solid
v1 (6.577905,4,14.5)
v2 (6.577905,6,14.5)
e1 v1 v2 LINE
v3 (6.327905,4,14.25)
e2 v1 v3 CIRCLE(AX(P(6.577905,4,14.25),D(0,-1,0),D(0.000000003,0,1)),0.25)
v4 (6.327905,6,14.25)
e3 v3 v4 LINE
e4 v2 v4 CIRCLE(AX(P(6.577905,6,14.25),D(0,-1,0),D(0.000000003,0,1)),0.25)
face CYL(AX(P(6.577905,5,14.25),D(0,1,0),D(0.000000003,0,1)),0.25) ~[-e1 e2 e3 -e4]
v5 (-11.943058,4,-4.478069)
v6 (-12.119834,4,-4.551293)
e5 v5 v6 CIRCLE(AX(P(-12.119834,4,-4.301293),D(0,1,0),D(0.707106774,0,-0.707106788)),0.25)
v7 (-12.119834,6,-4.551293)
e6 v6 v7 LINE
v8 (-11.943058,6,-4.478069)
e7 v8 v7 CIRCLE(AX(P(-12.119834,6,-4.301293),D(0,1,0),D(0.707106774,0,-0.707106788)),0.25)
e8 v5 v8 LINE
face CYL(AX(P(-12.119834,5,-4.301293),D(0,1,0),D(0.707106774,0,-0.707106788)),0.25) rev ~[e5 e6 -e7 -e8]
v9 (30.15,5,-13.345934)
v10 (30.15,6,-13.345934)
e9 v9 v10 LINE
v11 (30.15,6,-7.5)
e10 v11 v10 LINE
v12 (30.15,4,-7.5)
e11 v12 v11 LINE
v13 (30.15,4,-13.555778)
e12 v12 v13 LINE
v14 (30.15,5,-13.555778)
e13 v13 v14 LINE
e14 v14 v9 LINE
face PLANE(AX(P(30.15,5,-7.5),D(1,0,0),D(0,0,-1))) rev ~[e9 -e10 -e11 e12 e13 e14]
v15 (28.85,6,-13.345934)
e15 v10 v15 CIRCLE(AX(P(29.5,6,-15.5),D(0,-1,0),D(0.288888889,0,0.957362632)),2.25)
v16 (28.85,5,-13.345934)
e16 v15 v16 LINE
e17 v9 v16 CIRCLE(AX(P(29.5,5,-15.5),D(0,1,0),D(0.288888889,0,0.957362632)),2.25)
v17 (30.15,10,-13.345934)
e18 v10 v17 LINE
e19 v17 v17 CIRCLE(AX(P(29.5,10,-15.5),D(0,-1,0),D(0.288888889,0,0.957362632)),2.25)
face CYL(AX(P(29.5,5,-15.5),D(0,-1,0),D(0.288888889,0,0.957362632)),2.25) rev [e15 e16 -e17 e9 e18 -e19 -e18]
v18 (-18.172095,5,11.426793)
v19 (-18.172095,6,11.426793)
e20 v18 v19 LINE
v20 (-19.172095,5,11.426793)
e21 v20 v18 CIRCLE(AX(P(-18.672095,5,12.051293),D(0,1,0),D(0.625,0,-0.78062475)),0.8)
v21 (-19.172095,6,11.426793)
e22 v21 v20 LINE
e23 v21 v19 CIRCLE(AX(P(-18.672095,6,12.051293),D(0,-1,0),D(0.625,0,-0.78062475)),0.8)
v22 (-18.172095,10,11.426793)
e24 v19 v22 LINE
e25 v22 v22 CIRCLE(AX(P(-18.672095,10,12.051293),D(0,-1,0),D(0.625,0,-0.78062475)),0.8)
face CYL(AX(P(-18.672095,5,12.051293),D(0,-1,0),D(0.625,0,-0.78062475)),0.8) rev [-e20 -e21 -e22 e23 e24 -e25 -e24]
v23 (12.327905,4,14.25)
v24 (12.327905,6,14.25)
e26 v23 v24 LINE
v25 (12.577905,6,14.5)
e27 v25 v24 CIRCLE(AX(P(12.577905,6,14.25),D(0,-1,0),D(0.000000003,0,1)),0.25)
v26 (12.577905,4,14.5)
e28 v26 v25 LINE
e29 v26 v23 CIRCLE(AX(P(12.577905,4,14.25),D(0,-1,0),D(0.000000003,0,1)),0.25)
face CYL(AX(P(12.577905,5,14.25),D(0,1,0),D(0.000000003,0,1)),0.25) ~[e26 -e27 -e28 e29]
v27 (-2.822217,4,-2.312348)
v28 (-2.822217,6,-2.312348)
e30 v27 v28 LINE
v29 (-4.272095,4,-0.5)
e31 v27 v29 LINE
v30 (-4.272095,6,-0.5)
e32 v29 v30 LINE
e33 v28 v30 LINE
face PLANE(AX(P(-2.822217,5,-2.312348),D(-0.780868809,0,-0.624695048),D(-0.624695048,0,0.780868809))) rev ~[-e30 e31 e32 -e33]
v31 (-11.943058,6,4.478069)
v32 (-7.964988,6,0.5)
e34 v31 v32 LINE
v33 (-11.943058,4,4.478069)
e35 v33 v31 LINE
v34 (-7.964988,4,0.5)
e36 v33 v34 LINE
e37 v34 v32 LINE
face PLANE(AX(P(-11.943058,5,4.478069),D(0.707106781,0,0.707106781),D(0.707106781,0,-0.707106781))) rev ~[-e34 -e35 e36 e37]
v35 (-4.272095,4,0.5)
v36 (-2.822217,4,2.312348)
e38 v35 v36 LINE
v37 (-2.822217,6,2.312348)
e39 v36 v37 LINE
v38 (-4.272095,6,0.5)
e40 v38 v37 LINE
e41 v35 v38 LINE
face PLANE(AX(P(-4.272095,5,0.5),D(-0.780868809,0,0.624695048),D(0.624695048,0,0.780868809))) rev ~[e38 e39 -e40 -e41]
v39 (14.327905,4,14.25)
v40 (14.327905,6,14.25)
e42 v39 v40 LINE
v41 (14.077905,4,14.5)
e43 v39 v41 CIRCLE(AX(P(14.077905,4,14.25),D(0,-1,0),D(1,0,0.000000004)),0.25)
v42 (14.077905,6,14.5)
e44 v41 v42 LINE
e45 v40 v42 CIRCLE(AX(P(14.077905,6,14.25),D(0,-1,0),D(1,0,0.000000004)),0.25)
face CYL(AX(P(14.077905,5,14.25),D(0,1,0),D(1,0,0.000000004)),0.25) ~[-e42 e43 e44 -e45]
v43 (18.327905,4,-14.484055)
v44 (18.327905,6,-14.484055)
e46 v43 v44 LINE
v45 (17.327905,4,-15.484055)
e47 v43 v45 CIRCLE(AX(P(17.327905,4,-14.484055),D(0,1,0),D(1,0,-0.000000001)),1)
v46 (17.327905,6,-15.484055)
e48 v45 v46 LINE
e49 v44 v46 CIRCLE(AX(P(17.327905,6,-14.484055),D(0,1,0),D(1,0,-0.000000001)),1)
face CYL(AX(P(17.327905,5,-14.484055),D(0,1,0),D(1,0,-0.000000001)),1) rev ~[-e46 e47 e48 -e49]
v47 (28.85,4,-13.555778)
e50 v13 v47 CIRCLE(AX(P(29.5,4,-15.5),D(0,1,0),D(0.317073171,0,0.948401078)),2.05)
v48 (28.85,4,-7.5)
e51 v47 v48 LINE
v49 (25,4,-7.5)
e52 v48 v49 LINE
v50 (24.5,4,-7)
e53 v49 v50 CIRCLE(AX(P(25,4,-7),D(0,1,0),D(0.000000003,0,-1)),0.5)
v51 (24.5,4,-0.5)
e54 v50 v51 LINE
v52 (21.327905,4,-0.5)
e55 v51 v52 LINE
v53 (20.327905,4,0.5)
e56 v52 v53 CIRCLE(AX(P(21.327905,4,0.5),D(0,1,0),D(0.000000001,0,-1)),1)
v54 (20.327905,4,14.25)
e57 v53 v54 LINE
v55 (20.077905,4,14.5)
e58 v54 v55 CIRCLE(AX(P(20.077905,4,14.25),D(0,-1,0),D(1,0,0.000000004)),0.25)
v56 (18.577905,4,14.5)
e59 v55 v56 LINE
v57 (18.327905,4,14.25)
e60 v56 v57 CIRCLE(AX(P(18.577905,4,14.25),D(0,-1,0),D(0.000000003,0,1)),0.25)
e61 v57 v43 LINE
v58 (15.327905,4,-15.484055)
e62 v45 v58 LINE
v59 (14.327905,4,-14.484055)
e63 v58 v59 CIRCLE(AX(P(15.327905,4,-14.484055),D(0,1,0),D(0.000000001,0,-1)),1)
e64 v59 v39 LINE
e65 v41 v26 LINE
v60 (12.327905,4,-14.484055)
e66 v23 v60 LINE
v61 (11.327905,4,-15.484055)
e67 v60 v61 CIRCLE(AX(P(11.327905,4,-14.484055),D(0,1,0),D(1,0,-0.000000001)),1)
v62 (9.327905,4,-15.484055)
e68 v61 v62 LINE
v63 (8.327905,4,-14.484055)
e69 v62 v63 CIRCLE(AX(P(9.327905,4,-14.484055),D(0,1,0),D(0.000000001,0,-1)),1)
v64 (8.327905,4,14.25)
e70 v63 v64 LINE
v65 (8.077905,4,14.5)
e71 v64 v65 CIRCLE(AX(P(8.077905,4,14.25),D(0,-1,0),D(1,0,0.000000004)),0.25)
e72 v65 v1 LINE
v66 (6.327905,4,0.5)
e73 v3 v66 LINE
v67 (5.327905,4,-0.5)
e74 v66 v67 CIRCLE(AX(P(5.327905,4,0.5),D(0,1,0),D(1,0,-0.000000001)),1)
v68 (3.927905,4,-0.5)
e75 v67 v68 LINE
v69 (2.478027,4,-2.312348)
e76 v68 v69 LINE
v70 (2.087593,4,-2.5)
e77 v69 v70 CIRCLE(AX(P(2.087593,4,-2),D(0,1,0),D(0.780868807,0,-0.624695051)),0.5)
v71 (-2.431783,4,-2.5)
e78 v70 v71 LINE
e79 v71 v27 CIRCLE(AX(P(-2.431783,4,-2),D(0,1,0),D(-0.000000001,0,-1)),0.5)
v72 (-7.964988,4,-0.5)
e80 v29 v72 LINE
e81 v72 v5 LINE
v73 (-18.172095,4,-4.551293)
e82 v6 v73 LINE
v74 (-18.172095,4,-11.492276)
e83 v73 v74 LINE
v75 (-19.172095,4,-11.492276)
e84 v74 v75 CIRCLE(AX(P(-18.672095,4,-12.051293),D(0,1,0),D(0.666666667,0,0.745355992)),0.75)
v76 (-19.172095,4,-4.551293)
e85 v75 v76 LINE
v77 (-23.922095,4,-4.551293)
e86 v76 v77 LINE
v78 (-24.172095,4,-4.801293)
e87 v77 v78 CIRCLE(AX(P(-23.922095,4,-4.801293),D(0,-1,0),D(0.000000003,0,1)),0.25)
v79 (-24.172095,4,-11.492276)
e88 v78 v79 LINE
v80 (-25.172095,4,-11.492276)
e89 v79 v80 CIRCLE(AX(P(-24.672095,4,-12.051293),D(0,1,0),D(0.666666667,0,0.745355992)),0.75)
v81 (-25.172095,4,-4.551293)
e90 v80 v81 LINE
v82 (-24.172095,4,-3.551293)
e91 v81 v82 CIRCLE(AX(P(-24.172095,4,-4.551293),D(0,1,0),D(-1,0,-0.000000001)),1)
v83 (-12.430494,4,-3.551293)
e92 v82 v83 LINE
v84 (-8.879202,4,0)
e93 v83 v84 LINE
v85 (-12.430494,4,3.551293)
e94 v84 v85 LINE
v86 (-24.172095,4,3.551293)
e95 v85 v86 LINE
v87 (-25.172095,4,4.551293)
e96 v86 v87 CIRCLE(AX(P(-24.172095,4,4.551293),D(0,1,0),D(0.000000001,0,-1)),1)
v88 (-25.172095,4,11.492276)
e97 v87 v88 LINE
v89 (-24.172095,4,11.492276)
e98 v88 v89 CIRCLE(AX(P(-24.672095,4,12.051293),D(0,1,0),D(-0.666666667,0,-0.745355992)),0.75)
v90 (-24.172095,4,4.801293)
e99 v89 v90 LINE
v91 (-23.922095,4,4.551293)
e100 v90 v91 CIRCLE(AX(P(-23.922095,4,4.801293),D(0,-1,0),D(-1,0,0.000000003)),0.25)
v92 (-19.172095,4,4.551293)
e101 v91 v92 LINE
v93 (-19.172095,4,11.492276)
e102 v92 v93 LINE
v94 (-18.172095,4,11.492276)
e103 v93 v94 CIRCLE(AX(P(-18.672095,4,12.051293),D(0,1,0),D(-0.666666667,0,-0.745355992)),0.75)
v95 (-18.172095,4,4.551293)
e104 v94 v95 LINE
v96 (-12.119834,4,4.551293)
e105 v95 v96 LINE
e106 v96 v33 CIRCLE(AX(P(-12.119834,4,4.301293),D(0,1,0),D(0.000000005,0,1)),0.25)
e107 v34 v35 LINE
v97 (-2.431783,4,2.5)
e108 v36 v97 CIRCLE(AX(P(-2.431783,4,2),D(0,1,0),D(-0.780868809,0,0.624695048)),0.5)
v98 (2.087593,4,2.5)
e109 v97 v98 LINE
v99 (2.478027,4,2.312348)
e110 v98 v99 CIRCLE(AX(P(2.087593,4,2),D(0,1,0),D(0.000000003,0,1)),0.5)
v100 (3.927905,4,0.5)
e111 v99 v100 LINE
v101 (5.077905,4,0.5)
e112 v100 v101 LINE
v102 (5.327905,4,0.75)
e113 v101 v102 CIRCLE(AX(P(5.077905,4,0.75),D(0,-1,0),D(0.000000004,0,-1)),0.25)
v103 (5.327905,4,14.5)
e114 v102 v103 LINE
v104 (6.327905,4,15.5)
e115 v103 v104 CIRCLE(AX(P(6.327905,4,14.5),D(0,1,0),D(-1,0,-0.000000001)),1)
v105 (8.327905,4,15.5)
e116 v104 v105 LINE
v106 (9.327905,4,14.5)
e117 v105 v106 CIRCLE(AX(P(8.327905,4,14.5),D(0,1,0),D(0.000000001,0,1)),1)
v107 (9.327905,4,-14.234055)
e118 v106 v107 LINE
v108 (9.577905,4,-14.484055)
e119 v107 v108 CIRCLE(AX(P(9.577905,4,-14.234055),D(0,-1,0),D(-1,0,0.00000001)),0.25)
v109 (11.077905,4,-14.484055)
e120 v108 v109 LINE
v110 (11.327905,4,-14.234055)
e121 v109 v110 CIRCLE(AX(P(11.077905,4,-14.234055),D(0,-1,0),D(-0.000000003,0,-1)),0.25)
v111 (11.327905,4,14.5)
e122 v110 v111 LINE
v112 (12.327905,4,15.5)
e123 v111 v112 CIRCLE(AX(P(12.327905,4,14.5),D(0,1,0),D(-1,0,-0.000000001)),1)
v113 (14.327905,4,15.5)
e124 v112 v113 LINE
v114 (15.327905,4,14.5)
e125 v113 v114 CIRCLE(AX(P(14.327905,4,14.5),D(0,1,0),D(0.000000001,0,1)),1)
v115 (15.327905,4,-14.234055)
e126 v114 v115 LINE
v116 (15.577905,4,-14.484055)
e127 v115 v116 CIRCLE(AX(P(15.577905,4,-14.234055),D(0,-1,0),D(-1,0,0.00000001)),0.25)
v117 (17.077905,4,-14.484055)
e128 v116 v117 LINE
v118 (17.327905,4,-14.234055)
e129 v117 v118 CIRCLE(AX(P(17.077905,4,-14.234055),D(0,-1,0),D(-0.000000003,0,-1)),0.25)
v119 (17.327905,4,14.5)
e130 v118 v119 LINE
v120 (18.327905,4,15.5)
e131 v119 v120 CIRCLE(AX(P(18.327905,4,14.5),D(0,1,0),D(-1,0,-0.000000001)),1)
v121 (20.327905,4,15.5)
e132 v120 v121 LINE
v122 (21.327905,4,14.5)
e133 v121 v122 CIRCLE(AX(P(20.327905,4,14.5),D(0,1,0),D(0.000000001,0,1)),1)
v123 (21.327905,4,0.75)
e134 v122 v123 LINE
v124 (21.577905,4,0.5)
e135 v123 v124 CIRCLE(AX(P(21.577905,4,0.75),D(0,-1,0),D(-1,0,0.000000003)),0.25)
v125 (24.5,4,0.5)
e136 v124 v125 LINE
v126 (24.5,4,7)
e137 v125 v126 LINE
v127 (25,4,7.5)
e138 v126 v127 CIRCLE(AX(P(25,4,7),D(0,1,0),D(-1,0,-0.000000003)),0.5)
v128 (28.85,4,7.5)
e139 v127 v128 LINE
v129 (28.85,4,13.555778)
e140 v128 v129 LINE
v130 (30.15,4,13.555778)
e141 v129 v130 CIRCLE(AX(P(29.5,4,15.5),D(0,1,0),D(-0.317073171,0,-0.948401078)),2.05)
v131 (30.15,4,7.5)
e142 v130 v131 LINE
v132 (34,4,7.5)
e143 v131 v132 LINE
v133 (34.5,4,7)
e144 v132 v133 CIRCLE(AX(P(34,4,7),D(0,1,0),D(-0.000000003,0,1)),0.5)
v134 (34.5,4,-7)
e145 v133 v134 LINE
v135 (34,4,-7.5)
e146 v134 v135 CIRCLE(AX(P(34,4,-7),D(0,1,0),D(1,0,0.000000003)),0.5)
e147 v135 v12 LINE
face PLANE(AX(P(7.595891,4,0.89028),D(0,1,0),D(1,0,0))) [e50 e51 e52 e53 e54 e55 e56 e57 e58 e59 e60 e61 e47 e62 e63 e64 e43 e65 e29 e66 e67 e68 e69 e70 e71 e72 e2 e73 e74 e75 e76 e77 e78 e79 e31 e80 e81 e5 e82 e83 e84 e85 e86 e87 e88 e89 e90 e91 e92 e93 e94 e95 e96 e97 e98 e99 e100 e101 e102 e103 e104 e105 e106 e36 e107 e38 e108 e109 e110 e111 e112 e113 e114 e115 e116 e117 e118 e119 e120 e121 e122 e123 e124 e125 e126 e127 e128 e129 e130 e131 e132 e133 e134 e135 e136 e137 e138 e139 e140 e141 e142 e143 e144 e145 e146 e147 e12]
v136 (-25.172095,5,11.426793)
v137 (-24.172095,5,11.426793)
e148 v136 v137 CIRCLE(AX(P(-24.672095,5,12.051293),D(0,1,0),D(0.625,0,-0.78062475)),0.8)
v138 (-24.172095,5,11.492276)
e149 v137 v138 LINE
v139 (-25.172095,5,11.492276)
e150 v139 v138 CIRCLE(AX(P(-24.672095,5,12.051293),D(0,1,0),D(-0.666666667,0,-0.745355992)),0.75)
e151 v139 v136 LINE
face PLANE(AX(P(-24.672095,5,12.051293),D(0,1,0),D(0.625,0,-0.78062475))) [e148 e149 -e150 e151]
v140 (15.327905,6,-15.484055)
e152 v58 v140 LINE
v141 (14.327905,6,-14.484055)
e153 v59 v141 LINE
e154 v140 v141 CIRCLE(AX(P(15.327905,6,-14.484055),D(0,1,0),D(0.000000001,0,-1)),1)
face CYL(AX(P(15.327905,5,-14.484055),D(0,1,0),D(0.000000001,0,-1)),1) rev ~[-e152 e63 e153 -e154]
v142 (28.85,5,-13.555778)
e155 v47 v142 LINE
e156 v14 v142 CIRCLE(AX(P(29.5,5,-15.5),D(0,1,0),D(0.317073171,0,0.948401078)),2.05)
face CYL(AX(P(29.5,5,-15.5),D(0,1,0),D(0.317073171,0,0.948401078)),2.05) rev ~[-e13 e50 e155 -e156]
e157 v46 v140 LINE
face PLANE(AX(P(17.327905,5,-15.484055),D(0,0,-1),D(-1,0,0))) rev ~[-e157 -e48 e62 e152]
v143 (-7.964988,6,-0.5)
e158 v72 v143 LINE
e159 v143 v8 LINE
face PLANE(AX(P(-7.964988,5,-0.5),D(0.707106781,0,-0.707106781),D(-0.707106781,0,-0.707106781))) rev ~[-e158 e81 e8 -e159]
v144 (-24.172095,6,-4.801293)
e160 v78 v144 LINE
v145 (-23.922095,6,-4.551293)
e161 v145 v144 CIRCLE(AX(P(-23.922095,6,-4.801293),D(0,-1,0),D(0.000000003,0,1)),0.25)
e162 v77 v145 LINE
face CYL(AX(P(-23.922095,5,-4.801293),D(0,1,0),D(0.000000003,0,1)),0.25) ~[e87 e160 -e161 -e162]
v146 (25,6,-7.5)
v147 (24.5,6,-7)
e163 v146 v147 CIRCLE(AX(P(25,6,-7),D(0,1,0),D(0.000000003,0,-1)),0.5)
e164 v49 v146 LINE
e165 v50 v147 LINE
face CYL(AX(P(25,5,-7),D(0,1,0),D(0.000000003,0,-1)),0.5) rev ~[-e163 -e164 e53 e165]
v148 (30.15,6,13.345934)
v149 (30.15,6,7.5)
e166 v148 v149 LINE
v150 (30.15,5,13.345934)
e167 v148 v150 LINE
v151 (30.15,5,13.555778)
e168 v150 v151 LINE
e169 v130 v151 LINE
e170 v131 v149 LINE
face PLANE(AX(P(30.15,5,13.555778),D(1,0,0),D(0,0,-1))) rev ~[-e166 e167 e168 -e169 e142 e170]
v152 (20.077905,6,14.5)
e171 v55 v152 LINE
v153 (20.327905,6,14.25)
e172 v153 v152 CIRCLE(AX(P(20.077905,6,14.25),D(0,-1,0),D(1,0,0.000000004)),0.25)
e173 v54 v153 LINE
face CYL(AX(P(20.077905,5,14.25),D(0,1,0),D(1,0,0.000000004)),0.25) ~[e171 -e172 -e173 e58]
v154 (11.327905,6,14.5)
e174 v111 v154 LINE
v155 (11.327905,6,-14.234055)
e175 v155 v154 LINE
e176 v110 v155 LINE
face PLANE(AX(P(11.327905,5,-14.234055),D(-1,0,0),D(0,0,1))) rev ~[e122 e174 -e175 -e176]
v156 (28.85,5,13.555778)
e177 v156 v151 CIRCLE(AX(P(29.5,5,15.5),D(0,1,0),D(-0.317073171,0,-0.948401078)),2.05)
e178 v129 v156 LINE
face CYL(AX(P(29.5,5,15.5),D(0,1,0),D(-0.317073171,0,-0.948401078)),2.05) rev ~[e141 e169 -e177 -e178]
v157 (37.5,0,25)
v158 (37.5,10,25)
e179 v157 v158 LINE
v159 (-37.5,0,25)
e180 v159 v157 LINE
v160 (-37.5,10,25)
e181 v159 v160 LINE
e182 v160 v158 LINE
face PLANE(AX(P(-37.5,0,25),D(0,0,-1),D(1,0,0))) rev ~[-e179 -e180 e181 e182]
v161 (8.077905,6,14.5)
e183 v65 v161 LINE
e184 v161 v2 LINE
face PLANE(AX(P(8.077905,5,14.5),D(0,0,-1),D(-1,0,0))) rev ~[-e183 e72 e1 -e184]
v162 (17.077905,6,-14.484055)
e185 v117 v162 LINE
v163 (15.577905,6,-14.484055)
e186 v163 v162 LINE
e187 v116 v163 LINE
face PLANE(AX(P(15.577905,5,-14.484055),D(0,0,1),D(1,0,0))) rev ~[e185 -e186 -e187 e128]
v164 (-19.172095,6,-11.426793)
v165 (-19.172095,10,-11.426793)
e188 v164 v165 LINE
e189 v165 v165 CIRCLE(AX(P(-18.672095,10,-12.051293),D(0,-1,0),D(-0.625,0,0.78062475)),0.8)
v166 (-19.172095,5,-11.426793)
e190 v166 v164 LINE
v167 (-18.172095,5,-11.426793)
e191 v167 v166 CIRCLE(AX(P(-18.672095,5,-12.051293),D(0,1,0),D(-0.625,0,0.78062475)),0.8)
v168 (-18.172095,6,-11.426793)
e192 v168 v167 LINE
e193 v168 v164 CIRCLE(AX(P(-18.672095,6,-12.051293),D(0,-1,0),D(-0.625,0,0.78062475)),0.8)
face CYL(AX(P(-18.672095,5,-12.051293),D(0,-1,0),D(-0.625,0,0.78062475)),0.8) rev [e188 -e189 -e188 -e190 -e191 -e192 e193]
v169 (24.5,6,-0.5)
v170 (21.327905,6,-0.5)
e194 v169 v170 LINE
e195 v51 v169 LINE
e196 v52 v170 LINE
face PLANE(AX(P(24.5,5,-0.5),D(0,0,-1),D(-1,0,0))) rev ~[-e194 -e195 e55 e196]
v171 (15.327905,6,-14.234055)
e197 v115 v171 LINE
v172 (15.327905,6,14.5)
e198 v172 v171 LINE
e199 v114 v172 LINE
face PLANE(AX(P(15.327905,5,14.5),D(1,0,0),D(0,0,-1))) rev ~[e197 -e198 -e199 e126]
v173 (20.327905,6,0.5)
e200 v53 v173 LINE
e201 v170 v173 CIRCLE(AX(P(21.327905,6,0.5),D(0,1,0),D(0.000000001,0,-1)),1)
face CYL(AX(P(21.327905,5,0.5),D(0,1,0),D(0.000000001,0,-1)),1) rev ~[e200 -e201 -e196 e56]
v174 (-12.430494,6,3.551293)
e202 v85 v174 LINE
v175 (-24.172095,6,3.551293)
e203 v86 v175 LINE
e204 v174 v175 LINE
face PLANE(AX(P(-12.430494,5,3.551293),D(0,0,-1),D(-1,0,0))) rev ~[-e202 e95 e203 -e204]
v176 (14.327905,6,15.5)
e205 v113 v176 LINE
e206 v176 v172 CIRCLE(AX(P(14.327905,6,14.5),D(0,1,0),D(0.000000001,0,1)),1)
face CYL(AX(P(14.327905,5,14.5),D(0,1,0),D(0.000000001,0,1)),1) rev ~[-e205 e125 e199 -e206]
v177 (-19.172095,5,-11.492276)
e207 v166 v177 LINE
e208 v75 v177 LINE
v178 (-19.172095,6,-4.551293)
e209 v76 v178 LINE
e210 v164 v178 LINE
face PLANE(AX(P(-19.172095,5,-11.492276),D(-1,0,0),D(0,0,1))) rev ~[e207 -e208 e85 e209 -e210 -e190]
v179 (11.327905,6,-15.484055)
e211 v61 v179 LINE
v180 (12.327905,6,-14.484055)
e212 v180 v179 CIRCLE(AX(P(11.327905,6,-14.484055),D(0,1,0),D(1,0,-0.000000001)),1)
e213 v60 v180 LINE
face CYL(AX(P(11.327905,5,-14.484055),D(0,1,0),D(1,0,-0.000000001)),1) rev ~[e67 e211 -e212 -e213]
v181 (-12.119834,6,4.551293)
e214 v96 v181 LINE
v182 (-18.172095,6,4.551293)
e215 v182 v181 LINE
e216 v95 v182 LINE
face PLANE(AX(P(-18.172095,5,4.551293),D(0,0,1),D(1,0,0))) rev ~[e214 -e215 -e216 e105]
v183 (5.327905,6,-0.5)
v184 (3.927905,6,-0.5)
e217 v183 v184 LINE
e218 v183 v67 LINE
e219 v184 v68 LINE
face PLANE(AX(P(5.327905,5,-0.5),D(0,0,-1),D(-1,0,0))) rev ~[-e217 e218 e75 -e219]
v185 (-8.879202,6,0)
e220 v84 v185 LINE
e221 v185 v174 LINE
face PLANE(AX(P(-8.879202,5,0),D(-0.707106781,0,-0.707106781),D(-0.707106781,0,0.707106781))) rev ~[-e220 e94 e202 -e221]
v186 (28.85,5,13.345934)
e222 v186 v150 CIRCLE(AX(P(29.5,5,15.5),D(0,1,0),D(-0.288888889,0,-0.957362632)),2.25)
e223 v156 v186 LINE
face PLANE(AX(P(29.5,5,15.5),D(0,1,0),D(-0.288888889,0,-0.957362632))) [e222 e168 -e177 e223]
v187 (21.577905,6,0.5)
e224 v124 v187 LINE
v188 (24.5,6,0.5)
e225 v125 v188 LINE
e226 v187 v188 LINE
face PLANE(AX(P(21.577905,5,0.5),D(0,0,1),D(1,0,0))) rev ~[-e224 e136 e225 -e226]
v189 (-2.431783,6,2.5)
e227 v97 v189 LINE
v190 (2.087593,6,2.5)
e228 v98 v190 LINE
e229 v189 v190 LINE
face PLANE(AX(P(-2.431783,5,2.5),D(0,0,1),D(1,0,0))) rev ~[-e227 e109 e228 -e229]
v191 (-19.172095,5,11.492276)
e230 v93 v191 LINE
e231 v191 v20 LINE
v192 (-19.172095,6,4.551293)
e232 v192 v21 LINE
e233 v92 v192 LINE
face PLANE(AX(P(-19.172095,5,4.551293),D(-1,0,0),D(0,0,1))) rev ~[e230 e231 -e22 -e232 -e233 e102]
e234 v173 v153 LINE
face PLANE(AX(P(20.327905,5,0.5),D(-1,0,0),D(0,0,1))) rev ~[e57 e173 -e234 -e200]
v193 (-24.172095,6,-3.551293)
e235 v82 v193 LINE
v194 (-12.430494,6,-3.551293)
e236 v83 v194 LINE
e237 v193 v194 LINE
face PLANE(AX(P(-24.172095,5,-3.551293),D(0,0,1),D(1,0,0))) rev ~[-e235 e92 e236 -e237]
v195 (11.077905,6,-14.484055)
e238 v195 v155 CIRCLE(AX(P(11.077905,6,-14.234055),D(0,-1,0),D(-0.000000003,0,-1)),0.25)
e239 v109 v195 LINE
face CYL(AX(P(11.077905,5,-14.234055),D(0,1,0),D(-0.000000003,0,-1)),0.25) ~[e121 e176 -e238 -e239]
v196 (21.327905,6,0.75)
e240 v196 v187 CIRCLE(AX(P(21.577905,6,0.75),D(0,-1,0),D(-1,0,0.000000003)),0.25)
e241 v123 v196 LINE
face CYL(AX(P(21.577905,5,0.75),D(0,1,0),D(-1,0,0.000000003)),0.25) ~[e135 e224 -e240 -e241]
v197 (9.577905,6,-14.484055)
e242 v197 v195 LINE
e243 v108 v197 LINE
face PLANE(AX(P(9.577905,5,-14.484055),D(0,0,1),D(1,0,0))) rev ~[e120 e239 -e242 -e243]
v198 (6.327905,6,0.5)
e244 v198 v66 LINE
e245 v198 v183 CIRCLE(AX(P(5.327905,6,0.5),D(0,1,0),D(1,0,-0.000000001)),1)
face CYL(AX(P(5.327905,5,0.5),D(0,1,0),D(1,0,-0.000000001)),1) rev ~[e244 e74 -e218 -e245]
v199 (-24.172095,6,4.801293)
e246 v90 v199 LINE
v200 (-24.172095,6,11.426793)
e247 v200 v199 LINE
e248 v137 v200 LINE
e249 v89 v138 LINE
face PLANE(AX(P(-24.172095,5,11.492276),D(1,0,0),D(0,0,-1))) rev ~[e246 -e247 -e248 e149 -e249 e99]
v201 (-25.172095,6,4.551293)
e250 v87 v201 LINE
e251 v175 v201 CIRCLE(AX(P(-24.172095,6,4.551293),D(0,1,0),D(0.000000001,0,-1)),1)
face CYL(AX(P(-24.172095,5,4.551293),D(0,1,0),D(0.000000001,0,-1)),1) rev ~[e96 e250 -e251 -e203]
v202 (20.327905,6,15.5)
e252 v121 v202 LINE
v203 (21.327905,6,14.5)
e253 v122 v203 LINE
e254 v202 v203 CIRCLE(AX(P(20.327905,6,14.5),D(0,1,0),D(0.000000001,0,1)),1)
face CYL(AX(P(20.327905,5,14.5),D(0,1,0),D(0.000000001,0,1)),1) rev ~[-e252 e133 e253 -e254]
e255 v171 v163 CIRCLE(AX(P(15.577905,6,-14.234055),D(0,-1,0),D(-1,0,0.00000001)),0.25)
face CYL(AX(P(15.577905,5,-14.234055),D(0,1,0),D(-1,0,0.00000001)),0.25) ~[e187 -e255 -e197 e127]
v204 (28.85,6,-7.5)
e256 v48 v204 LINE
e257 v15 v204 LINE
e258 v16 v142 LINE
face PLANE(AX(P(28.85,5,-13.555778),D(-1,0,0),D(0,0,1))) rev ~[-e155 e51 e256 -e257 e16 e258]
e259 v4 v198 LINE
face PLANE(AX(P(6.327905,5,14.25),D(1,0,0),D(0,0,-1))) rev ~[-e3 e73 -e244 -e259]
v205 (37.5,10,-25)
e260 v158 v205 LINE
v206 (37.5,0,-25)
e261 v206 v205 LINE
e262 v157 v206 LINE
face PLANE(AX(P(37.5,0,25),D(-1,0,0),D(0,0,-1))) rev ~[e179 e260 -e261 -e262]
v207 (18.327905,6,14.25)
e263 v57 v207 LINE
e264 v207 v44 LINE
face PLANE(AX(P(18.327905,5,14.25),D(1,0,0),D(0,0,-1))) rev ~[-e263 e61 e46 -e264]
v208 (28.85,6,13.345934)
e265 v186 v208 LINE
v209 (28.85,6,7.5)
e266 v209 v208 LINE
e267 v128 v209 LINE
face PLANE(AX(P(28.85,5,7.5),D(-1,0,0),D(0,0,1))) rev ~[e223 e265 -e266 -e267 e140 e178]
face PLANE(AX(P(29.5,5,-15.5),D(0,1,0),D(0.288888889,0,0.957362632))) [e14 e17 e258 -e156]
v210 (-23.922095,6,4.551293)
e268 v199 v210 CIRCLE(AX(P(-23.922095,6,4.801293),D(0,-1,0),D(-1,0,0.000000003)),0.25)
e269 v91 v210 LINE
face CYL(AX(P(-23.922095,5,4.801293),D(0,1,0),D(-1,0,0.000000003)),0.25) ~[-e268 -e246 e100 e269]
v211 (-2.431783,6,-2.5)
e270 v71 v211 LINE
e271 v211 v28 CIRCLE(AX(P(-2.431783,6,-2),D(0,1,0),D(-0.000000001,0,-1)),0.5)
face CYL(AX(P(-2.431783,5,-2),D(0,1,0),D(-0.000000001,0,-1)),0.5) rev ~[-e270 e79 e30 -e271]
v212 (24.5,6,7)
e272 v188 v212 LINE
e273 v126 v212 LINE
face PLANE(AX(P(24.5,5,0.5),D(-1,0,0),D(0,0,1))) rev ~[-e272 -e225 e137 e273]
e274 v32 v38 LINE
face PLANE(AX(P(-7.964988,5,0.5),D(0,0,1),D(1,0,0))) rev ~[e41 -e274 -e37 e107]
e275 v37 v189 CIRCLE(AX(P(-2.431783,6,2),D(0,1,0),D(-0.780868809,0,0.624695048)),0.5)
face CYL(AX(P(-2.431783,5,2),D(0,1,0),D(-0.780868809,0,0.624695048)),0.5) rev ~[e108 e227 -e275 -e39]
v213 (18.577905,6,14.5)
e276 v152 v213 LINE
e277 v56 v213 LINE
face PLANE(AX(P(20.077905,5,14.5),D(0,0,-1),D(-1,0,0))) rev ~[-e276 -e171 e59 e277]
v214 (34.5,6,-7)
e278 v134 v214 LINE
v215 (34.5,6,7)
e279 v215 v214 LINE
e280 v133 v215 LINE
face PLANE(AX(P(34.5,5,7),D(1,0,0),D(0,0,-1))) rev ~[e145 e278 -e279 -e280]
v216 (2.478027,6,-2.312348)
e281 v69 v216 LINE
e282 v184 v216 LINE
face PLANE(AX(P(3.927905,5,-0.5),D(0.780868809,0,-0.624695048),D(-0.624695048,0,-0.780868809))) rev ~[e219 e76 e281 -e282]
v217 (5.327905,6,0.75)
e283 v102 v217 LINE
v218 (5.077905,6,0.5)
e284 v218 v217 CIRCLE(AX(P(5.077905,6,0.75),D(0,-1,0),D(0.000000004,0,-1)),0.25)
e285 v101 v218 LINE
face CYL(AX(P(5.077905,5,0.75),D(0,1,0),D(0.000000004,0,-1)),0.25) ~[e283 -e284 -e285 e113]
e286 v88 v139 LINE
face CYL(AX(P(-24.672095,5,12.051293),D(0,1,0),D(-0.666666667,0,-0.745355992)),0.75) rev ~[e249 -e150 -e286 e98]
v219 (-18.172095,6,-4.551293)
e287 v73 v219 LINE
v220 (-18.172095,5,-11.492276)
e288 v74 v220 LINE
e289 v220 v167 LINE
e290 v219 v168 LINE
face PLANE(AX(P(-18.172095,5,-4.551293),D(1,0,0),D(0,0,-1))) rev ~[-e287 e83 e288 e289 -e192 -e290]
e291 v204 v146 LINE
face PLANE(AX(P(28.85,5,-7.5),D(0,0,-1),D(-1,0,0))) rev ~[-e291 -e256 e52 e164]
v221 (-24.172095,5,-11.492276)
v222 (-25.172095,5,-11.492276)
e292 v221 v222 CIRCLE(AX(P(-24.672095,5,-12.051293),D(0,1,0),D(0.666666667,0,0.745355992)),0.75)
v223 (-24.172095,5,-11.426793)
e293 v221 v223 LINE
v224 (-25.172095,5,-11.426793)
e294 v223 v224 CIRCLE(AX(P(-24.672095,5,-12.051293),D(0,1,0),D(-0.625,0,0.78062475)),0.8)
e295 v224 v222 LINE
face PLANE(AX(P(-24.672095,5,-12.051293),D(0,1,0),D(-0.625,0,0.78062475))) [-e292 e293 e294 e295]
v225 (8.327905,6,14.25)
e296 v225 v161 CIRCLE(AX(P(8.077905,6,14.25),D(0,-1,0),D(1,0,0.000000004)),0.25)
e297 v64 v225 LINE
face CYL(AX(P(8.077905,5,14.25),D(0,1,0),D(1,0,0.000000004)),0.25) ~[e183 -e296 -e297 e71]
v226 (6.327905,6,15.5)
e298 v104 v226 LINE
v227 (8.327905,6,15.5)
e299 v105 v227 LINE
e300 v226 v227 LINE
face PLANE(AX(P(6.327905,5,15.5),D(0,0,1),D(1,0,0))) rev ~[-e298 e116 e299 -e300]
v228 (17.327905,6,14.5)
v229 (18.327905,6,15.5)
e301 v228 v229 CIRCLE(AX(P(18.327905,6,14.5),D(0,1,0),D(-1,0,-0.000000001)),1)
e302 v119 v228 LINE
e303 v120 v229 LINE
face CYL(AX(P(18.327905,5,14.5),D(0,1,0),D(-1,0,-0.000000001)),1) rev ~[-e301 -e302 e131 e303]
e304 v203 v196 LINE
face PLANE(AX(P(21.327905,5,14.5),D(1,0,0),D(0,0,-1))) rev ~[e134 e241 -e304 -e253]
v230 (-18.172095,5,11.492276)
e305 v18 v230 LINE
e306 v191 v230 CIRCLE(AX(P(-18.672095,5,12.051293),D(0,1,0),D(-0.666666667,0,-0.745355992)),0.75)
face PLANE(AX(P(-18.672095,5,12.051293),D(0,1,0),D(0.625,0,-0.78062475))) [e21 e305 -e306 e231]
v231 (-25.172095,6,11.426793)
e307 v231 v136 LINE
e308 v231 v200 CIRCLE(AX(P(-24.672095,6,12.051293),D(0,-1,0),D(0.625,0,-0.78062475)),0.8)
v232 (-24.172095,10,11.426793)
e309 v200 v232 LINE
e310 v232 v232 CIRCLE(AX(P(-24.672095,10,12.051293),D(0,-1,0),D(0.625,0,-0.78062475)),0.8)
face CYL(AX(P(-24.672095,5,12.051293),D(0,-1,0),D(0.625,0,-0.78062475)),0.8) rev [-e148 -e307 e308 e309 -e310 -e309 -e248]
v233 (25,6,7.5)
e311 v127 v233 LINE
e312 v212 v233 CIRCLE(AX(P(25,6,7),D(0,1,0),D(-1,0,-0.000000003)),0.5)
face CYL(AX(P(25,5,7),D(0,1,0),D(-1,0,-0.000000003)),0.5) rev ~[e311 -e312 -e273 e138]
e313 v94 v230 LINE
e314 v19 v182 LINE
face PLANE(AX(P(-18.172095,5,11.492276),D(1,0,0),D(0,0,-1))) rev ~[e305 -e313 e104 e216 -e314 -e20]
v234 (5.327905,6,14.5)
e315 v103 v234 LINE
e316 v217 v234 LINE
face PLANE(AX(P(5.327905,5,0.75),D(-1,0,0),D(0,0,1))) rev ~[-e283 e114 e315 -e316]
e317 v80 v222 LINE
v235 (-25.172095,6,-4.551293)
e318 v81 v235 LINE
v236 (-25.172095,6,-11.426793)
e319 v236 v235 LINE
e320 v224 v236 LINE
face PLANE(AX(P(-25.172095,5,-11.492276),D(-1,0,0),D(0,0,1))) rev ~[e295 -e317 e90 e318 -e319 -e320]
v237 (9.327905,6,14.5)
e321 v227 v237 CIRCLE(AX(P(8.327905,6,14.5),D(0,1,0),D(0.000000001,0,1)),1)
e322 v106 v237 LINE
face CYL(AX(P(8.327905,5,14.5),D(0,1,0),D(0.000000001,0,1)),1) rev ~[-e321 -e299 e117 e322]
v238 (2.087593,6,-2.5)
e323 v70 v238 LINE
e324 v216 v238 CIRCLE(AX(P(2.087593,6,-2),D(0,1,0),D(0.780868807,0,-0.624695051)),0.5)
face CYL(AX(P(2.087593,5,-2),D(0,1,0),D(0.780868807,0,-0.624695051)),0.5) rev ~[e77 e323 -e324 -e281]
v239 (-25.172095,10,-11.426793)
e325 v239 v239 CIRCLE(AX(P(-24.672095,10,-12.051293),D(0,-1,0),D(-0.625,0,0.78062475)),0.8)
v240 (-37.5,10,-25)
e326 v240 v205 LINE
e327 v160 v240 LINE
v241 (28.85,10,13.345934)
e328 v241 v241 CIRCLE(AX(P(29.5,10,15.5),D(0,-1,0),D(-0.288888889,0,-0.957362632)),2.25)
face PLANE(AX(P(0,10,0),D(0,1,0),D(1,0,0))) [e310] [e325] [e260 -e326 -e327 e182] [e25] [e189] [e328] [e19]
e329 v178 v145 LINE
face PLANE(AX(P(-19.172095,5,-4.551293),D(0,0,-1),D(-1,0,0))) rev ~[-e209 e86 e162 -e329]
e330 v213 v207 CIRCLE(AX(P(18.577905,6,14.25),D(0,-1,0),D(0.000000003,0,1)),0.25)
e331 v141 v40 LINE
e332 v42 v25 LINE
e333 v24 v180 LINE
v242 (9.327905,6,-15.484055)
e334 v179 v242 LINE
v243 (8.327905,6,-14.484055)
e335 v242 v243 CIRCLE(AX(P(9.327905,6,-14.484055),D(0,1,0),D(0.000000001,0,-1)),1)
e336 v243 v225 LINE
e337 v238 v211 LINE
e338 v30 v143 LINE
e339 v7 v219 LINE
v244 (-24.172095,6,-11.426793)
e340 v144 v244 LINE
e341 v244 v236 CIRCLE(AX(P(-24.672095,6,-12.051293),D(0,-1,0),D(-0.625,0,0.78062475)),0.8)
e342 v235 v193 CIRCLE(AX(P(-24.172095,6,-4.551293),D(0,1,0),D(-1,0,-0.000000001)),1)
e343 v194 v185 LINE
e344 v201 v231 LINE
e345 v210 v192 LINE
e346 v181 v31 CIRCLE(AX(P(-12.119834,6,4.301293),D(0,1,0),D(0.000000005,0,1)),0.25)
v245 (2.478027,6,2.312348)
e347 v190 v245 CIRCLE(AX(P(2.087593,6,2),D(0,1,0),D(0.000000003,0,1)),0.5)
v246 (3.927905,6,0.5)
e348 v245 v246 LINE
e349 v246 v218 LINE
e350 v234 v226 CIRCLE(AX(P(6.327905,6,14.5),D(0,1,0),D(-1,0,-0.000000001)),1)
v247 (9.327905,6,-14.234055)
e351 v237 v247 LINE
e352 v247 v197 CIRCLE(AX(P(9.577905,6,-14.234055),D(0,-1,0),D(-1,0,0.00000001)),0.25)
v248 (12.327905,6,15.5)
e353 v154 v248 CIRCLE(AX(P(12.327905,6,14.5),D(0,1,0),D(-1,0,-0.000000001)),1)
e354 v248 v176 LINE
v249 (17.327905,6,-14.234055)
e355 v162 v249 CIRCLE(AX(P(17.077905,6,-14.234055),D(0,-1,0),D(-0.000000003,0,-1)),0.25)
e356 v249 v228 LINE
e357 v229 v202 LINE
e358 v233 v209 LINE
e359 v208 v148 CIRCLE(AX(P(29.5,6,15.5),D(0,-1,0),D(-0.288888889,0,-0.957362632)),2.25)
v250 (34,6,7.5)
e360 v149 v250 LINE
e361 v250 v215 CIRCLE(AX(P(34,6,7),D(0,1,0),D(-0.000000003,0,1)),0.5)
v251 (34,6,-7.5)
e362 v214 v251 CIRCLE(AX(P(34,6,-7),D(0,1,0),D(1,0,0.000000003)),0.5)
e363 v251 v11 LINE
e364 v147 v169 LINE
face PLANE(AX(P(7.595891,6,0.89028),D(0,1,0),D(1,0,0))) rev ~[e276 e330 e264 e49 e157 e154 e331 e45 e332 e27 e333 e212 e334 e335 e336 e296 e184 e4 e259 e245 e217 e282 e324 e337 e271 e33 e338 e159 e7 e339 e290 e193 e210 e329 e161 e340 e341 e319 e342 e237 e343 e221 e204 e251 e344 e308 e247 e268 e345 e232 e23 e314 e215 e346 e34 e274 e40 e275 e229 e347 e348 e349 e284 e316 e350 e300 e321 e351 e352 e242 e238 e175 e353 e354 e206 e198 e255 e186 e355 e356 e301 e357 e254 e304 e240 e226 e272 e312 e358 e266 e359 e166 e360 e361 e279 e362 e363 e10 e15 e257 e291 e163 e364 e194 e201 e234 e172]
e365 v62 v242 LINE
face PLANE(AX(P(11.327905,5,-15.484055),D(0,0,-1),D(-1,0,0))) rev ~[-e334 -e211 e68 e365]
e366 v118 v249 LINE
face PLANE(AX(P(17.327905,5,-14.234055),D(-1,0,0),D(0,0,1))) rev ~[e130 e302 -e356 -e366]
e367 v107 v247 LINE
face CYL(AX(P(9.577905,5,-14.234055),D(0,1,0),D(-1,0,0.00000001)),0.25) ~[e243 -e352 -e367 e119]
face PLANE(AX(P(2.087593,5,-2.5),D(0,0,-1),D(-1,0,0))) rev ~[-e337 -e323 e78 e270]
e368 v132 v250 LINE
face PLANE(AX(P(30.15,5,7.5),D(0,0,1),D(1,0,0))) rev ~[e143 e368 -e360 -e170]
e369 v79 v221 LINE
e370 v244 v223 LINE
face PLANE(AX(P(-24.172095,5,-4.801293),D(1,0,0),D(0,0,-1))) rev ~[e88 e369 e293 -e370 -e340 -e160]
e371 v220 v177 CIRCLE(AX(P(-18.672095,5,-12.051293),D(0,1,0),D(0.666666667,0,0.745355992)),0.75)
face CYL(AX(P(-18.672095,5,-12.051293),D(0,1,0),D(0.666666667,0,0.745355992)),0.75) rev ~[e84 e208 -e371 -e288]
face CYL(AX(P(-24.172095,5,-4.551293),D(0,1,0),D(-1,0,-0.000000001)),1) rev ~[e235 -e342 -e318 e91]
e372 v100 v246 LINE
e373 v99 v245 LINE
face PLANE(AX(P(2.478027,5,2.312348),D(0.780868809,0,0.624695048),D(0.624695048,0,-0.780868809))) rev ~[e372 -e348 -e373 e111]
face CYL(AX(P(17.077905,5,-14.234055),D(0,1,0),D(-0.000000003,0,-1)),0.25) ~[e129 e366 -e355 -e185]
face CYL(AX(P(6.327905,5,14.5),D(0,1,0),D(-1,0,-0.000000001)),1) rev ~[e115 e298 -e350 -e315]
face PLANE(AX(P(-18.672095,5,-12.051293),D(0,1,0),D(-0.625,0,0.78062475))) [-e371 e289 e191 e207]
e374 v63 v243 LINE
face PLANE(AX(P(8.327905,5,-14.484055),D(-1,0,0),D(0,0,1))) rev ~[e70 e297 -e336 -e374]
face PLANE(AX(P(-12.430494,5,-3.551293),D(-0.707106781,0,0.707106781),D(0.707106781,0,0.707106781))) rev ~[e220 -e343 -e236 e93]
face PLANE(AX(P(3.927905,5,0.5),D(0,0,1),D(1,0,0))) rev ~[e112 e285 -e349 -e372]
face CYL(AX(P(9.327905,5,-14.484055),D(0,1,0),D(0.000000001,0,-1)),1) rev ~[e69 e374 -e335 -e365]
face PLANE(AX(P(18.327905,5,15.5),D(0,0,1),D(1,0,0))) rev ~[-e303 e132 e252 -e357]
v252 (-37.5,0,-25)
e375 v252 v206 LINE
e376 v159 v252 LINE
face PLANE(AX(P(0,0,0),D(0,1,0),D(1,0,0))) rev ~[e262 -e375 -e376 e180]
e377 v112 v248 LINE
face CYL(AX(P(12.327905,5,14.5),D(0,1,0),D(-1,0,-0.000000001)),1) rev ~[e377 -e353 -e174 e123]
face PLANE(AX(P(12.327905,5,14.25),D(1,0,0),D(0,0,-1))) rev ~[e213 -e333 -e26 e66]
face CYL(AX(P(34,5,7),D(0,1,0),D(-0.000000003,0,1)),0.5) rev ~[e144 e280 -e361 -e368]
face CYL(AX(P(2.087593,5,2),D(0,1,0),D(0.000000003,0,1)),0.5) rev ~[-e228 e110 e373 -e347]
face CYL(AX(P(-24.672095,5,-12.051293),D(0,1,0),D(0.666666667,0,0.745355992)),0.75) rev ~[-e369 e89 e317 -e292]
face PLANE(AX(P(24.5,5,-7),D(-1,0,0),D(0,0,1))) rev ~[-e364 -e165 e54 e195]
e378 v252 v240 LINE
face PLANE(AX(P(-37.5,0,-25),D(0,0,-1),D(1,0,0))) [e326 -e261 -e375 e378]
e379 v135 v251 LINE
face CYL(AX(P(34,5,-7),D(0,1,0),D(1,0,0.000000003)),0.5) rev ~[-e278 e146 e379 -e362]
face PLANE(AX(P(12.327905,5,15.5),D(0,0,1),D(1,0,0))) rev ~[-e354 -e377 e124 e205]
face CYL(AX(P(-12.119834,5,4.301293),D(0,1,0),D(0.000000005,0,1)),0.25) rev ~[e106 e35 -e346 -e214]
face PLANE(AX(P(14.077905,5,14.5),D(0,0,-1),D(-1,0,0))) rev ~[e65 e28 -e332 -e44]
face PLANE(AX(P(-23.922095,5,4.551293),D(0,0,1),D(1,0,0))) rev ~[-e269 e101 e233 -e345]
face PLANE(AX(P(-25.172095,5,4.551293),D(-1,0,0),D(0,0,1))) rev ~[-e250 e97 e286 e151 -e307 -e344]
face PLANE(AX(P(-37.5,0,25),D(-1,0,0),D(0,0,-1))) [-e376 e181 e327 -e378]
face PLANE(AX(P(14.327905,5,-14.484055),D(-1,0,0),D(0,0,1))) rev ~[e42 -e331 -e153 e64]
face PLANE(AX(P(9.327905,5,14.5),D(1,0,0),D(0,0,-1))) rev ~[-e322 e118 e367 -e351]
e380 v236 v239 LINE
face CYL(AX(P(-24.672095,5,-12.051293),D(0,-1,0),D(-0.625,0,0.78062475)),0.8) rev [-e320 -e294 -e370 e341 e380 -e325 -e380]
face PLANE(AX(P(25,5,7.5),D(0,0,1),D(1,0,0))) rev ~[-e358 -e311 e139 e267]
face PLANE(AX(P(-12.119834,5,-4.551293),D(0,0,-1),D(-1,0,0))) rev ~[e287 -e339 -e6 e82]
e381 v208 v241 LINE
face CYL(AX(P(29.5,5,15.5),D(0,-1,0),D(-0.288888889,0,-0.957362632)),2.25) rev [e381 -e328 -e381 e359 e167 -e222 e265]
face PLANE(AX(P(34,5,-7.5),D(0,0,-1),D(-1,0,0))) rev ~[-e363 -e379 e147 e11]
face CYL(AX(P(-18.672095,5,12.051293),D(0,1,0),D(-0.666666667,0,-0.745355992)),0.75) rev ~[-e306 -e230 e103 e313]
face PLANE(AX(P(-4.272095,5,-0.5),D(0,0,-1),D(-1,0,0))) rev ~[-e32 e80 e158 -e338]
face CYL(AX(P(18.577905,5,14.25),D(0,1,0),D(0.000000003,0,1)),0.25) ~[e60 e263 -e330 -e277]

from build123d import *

# Parameters (mm, degrees)
SKETCH2_W             = 75
SKETCH2_H             = 50
PLATE_TOPVIEW_DEPTH   = 10
CHANNEL_DEPTH         = 1
CONNETION_SKETCH_R    = 0.8
CONNETION_SKETCH_R_2  = 2.25
CONNECTING_PORT_DEPTH = 12


with BuildPart() as part:
    # Sketch2 → Plate_topview (new body)
    with BuildSketch(Plane(origin=(0, 0, 0), x_dir=(1, 0, 0), z_dir=(0, 1, 0))):
        Rectangle(SKETCH2_W, SKETCH2_H)
    extrude(amount=PLATE_TOPVIEW_DEPTH)

    # channel_sketch → Channel (cut, symmetric)
    with BuildSketch(Plane(origin=(0, 5, 0), x_dir=(1, 0, 0), z_dir=(0, 1, 0))):
        with BuildLine():
            Line((3.927905037, 0.5), (2.478027018, 2.312347524))
            ThreePointArc((2.478027018, 2.312347524), (2.304186978, 2.450651618), (2.087592613, 2.5))
            Line((2.087592613, 2.5), (-2.43178254, 2.5))
            ThreePointArc((-2.43178254, 2.5), (-2.648376905, 2.450651618), (-2.822216944, 2.312347524))
            Line((-2.822216944, 2.312347524), (-4.272094963, 0.5))
            Line((-4.272094963, 0.5), (-7.964988182, 0.5))
            Line((-7.964988182, 0.5), (-11.943057517, 4.478069335))
            ThreePointArc((-11.943057517, 4.478069335), (-12.024163354, 4.532262522), (-12.119834212, 4.551292639))
            Line((-12.119834212, 4.551292639), (-18.172094963, 4.551292639))
            Line((-18.172094963, 4.551292639), (-18.172094963, 11.492275645))
            ThreePointArc((-18.172094963, 11.492275645), (-18.672094963, 12.801292639), (-19.172094963, 11.492275645))
            Line((-19.172094963, 11.492275645), (-19.172094963, 4.551292639))
            Line((-19.172094963, 4.551292639), (-23.922094963, 4.551292639))
            ThreePointArc((-23.922094963, 4.551292639), (-24.098871659, 4.624515944), (-24.172094963, 4.801292639))
            Line((-24.172094963, 4.801292639), (-24.172094963, 11.492275645))
            ThreePointArc((-24.172094963, 11.492275645), (-24.672094963, 12.801292639), (-25.172094963, 11.492275645))
            Line((-25.172094963, 11.492275645), (-25.172094963, 4.551292639))
            ThreePointArc((-25.172094963, 4.551292639), (-24.879201745, 3.844185858), (-24.172094963, 3.551292639))
            Line((-24.172094963, 3.551292639), (-18.172094963, 3.551292639))
            Line((-18.172094963, 3.551292639), (-12.430494384, 3.551292639))
            Line((-12.430494384, 3.551292639), (-8.879201745, 0))
            Line((-8.879201745, 0), (-12.430494384, -3.551292639))
            Line((-12.430494384, -3.551292639), (-18.172094963, -3.551292639))
            Line((-18.172094963, -3.551292639), (-24.172094963, -3.551292639))
            ThreePointArc((-24.172094963, -3.551292639), (-24.879201745, -3.844185858), (-25.172094963, -4.551292639))
            Line((-25.172094963, -4.551292639), (-25.172094963, -11.492275645))
            ThreePointArc((-25.172094963, -11.492275645), (-24.672094963, -12.801292639), (-24.172094963, -11.492275645))
            Line((-24.172094963, -11.492275645), (-24.172094963, -4.801292639))
            ThreePointArc((-24.172094963, -4.801292639), (-24.098871659, -4.624515944), (-23.922094963, -4.551292639))
            Line((-23.922094963, -4.551292639), (-19.172094963, -4.551292639))
            Line((-19.172094963, -4.551292639), (-19.172094963, -11.492275645))
            ThreePointArc((-19.172094963, -11.492275645), (-18.672094963, -12.801292639), (-18.172094963, -11.492275645))
            Line((-18.172094963, -11.492275645), (-18.172094963, -4.551292639))
            Line((-18.172094963, -4.551292639), (-12.119834212, -4.551292639))
            ThreePointArc((-12.119834212, -4.551292639), (-12.024163354, -4.532262522), (-11.943057517, -4.478069335))
            Line((-11.943057517, -4.478069335), (-7.964988182, -0.5))
            Line((-7.964988182, -0.5), (-4.272094963, -0.5))
            Line((-4.272094963, -0.5), (-2.822216944, -2.312347524))
            ThreePointArc((-2.822216944, -2.312347524), (-2.648376905, -2.450651618), (-2.43178254, -2.5))
            Line((-2.43178254, -2.5), (2.087592613, -2.5))
            ThreePointArc((2.087592613, -2.5), (2.304186978, -2.450651618), (2.478027018, -2.312347524))
            Line((2.478027018, -2.312347524), (3.927905037, -0.5))
            Line((3.927905037, -0.5), (5.077905037, -0.5))
            ThreePointArc((5.077905037, -0.5), (5.254681732, -0.573223305), (5.327905037, -0.75))
            Line((5.327905037, -0.75), (5.327905037, -14.5))
            ThreePointArc((5.327905037, -14.5), (5.620798255, -15.207106781), (6.327905037, -15.5))
            Line((6.327905037, -15.5), (8.327905037, -15.5))
            ThreePointArc((8.327905037, -15.5), (9.035011818, -15.207106781), (9.327905037, -14.5))
            Line((9.327905037, -14.5), (9.327905037, 14.234055176))
            ThreePointArc((9.327905037, 14.234055176), (9.401128341, 14.410831872), (9.577905037, 14.484055176))
            Line((9.577905037, 14.484055176), (11.077905037, 14.484055176))
            ThreePointArc((11.077905037, 14.484055176), (11.254681732, 14.410831872), (11.327905037, 14.234055176))
            Line((11.327905037, 14.234055176), (11.327905037, -14.5))
            ThreePointArc((11.327905037, -14.5), (11.620798255, -15.207106781), (12.327905037, -15.5))
            Line((12.327905037, -15.5), (14.327905037, -15.5))
            ThreePointArc((14.327905037, -15.5), (15.035011818, -15.207106781), (15.327905037, -14.5))
            Line((15.327905037, -14.5), (15.327905037, 14.234055176))
            ThreePointArc((15.327905037, 14.234055176), (15.401128341, 14.410831872), (15.577905037, 14.484055176))
            Line((15.577905037, 14.484055176), (17.077905037, 14.484055176))
            ThreePointArc((17.077905037, 14.484055176), (17.254681732, 14.410831872), (17.327905037, 14.234055176))
            Line((17.327905037, 14.234055176), (17.327905037, -14.5))
            ThreePointArc((17.327905037, -14.5), (17.620798255, -15.207106781), (18.327905037, -15.5))
            Line((18.327905037, -15.5), (20.327905037, -15.5))
            ThreePointArc((20.327905037, -15.5), (21.035011818, -15.207106781), (21.327905037, -14.5))
            Line((21.327905037, -14.5), (21.327905037, -0.75))
            ThreePointArc((21.327905037, -0.75), (21.401128341, -0.573223305), (21.577905037, -0.5))
            Line((21.577905037, -0.5), (24.5, -0.5))
            Line((24.5, -0.5), (24.5, -7))
            ThreePointArc((24.5, -7), (24.646446609, -7.353553391), (25, -7.5))
            Line((25, -7.5), (28.85, -7.5))
            Line((28.85, -7.5), (28.85, -13.55577779))
            ThreePointArc((28.85, -13.55577779), (29.5, -17.55), (30.15, -13.55577779))
            Line((30.15, -13.55577779), (30.15, -7.5))
            Line((30.15, -7.5), (34, -7.5))
            ThreePointArc((34, -7.5), (34.353553391, -7.353553391), (34.5, -7))
            Line((34.5, -7), (34.5, 7))
            ThreePointArc((34.5, 7), (34.353553391, 7.353553391), (34, 7.5))
            Line((34, 7.5), (30.15, 7.5))
            Line((30.15, 7.5), (30.15, 13.55577779))
            ThreePointArc((30.15, 13.55577779), (29.5, 17.55), (28.85, 13.55577779))
            Line((28.85, 13.55577779), (28.85, 7.5))
            Line((28.85, 7.5), (25, 7.5))
            ThreePointArc((25, 7.5), (24.646446609, 7.353553391), (24.5, 7))
            Line((24.5, 7), (24.5, 0.5))
            Line((24.5, 0.5), (21.327905037, 0.5))
            ThreePointArc((21.327905037, 0.5), (20.620798255, 0.207106781), (20.327905037, -0.5))
            Line((20.327905037, -0.5), (20.327905037, -14.25))
            ThreePointArc((20.327905037, -14.25), (20.254681732, -14.426776695), (20.077905037, -14.5))
            Line((20.077905037, -14.5), (18.577905037, -14.5))
            ThreePointArc((18.577905037, -14.5), (18.401128341, -14.426776695), (18.327905037, -14.25))
            Line((18.327905037, -14.25), (18.327905037, 14.484055176))
            ThreePointArc((18.327905037, 14.484055176), (18.035011818, 15.191161957), (17.327905037, 15.484055176))
            Line((17.327905037, 15.484055176), (15.327905037, 15.484055176))
            ThreePointArc((15.327905037, 15.484055176), (14.620798255, 15.191161957), (14.327905037, 14.484055176))
            Line((14.327905037, 14.484055176), (14.327905037, -14.25))
            ThreePointArc((14.327905037, -14.25), (14.254681732, -14.426776695), (14.077905037, -14.5))
            Line((14.077905037, -14.5), (12.577905037, -14.5))
            ThreePointArc((12.577905037, -14.5), (12.401128341, -14.426776695), (12.327905037, -14.25))
            Line((12.327905037, -14.25), (12.327905037, 14.484055176))
            ThreePointArc((12.327905037, 14.484055176), (12.035011818, 15.191161957), (11.327905037, 15.484055176))
            Line((11.327905037, 15.484055176), (9.327905037, 15.484055176))
            ThreePointArc((9.327905037, 15.484055176), (8.620798255, 15.191161957), (8.327905037, 14.484055176))
            Line((8.327905037, 14.484055176), (8.327905037, -14.25))
            ThreePointArc((8.327905037, -14.25), (8.254681732, -14.426776695), (8.077905037, -14.5))
            Line((8.077905037, -14.5), (6.577905037, -14.5))
            ThreePointArc((6.577905037, -14.5), (6.401128341, -14.426776695), (6.327905037, -14.25))
            Line((6.327905037, -14.25), (6.327905037, -0.5))
            ThreePointArc((6.327905037, -0.5), (6.035011818, 0.207106781), (5.327905037, 0.5))
            Line((5.327905037, 0.5), (3.927905037, 0.5))
        make_face()
    extrude(amount=CHANNEL_DEPTH, both=True, mode=Mode.SUBTRACT)

    # connetion_sketch → Connecting_port (cut)
    with BuildSketch(Plane(origin=(0, 5, 0), x_dir=(1, 0, 0), z_dir=(0, 1, 0))):
        with Locations(Location((-24.672094963, 12.051292639, 0), (0, 0, 231.317812547))):
            Circle(CONNETION_SKETCH_R)
        with Locations(Location((-18.672094963, 12.051292639, 0), (0, 0, 231.317812547))):
            Circle(CONNETION_SKETCH_R)
        with Locations(Location((-18.672094963, -12.051292639, 0), (0, 0, 51.317812547))):
            Circle(CONNETION_SKETCH_R)
        with Locations(Location((-24.672094963, -12.051292639, 0), (0, 0, 51.317812547))):
            Circle(CONNETION_SKETCH_R)
        with Locations(Location((29.5, 15.5, 0), (0, 0, 286.791447115))):
            Circle(CONNETION_SKETCH_R_2)
        with Locations(Location((29.5, -15.5, 0), (0, 0, 106.791447115))):
            Circle(CONNETION_SKETCH_R_2)
    extrude(amount=CONNECTING_PORT_DEPTH, mode=Mode.SUBTRACT)


solid = part.part
